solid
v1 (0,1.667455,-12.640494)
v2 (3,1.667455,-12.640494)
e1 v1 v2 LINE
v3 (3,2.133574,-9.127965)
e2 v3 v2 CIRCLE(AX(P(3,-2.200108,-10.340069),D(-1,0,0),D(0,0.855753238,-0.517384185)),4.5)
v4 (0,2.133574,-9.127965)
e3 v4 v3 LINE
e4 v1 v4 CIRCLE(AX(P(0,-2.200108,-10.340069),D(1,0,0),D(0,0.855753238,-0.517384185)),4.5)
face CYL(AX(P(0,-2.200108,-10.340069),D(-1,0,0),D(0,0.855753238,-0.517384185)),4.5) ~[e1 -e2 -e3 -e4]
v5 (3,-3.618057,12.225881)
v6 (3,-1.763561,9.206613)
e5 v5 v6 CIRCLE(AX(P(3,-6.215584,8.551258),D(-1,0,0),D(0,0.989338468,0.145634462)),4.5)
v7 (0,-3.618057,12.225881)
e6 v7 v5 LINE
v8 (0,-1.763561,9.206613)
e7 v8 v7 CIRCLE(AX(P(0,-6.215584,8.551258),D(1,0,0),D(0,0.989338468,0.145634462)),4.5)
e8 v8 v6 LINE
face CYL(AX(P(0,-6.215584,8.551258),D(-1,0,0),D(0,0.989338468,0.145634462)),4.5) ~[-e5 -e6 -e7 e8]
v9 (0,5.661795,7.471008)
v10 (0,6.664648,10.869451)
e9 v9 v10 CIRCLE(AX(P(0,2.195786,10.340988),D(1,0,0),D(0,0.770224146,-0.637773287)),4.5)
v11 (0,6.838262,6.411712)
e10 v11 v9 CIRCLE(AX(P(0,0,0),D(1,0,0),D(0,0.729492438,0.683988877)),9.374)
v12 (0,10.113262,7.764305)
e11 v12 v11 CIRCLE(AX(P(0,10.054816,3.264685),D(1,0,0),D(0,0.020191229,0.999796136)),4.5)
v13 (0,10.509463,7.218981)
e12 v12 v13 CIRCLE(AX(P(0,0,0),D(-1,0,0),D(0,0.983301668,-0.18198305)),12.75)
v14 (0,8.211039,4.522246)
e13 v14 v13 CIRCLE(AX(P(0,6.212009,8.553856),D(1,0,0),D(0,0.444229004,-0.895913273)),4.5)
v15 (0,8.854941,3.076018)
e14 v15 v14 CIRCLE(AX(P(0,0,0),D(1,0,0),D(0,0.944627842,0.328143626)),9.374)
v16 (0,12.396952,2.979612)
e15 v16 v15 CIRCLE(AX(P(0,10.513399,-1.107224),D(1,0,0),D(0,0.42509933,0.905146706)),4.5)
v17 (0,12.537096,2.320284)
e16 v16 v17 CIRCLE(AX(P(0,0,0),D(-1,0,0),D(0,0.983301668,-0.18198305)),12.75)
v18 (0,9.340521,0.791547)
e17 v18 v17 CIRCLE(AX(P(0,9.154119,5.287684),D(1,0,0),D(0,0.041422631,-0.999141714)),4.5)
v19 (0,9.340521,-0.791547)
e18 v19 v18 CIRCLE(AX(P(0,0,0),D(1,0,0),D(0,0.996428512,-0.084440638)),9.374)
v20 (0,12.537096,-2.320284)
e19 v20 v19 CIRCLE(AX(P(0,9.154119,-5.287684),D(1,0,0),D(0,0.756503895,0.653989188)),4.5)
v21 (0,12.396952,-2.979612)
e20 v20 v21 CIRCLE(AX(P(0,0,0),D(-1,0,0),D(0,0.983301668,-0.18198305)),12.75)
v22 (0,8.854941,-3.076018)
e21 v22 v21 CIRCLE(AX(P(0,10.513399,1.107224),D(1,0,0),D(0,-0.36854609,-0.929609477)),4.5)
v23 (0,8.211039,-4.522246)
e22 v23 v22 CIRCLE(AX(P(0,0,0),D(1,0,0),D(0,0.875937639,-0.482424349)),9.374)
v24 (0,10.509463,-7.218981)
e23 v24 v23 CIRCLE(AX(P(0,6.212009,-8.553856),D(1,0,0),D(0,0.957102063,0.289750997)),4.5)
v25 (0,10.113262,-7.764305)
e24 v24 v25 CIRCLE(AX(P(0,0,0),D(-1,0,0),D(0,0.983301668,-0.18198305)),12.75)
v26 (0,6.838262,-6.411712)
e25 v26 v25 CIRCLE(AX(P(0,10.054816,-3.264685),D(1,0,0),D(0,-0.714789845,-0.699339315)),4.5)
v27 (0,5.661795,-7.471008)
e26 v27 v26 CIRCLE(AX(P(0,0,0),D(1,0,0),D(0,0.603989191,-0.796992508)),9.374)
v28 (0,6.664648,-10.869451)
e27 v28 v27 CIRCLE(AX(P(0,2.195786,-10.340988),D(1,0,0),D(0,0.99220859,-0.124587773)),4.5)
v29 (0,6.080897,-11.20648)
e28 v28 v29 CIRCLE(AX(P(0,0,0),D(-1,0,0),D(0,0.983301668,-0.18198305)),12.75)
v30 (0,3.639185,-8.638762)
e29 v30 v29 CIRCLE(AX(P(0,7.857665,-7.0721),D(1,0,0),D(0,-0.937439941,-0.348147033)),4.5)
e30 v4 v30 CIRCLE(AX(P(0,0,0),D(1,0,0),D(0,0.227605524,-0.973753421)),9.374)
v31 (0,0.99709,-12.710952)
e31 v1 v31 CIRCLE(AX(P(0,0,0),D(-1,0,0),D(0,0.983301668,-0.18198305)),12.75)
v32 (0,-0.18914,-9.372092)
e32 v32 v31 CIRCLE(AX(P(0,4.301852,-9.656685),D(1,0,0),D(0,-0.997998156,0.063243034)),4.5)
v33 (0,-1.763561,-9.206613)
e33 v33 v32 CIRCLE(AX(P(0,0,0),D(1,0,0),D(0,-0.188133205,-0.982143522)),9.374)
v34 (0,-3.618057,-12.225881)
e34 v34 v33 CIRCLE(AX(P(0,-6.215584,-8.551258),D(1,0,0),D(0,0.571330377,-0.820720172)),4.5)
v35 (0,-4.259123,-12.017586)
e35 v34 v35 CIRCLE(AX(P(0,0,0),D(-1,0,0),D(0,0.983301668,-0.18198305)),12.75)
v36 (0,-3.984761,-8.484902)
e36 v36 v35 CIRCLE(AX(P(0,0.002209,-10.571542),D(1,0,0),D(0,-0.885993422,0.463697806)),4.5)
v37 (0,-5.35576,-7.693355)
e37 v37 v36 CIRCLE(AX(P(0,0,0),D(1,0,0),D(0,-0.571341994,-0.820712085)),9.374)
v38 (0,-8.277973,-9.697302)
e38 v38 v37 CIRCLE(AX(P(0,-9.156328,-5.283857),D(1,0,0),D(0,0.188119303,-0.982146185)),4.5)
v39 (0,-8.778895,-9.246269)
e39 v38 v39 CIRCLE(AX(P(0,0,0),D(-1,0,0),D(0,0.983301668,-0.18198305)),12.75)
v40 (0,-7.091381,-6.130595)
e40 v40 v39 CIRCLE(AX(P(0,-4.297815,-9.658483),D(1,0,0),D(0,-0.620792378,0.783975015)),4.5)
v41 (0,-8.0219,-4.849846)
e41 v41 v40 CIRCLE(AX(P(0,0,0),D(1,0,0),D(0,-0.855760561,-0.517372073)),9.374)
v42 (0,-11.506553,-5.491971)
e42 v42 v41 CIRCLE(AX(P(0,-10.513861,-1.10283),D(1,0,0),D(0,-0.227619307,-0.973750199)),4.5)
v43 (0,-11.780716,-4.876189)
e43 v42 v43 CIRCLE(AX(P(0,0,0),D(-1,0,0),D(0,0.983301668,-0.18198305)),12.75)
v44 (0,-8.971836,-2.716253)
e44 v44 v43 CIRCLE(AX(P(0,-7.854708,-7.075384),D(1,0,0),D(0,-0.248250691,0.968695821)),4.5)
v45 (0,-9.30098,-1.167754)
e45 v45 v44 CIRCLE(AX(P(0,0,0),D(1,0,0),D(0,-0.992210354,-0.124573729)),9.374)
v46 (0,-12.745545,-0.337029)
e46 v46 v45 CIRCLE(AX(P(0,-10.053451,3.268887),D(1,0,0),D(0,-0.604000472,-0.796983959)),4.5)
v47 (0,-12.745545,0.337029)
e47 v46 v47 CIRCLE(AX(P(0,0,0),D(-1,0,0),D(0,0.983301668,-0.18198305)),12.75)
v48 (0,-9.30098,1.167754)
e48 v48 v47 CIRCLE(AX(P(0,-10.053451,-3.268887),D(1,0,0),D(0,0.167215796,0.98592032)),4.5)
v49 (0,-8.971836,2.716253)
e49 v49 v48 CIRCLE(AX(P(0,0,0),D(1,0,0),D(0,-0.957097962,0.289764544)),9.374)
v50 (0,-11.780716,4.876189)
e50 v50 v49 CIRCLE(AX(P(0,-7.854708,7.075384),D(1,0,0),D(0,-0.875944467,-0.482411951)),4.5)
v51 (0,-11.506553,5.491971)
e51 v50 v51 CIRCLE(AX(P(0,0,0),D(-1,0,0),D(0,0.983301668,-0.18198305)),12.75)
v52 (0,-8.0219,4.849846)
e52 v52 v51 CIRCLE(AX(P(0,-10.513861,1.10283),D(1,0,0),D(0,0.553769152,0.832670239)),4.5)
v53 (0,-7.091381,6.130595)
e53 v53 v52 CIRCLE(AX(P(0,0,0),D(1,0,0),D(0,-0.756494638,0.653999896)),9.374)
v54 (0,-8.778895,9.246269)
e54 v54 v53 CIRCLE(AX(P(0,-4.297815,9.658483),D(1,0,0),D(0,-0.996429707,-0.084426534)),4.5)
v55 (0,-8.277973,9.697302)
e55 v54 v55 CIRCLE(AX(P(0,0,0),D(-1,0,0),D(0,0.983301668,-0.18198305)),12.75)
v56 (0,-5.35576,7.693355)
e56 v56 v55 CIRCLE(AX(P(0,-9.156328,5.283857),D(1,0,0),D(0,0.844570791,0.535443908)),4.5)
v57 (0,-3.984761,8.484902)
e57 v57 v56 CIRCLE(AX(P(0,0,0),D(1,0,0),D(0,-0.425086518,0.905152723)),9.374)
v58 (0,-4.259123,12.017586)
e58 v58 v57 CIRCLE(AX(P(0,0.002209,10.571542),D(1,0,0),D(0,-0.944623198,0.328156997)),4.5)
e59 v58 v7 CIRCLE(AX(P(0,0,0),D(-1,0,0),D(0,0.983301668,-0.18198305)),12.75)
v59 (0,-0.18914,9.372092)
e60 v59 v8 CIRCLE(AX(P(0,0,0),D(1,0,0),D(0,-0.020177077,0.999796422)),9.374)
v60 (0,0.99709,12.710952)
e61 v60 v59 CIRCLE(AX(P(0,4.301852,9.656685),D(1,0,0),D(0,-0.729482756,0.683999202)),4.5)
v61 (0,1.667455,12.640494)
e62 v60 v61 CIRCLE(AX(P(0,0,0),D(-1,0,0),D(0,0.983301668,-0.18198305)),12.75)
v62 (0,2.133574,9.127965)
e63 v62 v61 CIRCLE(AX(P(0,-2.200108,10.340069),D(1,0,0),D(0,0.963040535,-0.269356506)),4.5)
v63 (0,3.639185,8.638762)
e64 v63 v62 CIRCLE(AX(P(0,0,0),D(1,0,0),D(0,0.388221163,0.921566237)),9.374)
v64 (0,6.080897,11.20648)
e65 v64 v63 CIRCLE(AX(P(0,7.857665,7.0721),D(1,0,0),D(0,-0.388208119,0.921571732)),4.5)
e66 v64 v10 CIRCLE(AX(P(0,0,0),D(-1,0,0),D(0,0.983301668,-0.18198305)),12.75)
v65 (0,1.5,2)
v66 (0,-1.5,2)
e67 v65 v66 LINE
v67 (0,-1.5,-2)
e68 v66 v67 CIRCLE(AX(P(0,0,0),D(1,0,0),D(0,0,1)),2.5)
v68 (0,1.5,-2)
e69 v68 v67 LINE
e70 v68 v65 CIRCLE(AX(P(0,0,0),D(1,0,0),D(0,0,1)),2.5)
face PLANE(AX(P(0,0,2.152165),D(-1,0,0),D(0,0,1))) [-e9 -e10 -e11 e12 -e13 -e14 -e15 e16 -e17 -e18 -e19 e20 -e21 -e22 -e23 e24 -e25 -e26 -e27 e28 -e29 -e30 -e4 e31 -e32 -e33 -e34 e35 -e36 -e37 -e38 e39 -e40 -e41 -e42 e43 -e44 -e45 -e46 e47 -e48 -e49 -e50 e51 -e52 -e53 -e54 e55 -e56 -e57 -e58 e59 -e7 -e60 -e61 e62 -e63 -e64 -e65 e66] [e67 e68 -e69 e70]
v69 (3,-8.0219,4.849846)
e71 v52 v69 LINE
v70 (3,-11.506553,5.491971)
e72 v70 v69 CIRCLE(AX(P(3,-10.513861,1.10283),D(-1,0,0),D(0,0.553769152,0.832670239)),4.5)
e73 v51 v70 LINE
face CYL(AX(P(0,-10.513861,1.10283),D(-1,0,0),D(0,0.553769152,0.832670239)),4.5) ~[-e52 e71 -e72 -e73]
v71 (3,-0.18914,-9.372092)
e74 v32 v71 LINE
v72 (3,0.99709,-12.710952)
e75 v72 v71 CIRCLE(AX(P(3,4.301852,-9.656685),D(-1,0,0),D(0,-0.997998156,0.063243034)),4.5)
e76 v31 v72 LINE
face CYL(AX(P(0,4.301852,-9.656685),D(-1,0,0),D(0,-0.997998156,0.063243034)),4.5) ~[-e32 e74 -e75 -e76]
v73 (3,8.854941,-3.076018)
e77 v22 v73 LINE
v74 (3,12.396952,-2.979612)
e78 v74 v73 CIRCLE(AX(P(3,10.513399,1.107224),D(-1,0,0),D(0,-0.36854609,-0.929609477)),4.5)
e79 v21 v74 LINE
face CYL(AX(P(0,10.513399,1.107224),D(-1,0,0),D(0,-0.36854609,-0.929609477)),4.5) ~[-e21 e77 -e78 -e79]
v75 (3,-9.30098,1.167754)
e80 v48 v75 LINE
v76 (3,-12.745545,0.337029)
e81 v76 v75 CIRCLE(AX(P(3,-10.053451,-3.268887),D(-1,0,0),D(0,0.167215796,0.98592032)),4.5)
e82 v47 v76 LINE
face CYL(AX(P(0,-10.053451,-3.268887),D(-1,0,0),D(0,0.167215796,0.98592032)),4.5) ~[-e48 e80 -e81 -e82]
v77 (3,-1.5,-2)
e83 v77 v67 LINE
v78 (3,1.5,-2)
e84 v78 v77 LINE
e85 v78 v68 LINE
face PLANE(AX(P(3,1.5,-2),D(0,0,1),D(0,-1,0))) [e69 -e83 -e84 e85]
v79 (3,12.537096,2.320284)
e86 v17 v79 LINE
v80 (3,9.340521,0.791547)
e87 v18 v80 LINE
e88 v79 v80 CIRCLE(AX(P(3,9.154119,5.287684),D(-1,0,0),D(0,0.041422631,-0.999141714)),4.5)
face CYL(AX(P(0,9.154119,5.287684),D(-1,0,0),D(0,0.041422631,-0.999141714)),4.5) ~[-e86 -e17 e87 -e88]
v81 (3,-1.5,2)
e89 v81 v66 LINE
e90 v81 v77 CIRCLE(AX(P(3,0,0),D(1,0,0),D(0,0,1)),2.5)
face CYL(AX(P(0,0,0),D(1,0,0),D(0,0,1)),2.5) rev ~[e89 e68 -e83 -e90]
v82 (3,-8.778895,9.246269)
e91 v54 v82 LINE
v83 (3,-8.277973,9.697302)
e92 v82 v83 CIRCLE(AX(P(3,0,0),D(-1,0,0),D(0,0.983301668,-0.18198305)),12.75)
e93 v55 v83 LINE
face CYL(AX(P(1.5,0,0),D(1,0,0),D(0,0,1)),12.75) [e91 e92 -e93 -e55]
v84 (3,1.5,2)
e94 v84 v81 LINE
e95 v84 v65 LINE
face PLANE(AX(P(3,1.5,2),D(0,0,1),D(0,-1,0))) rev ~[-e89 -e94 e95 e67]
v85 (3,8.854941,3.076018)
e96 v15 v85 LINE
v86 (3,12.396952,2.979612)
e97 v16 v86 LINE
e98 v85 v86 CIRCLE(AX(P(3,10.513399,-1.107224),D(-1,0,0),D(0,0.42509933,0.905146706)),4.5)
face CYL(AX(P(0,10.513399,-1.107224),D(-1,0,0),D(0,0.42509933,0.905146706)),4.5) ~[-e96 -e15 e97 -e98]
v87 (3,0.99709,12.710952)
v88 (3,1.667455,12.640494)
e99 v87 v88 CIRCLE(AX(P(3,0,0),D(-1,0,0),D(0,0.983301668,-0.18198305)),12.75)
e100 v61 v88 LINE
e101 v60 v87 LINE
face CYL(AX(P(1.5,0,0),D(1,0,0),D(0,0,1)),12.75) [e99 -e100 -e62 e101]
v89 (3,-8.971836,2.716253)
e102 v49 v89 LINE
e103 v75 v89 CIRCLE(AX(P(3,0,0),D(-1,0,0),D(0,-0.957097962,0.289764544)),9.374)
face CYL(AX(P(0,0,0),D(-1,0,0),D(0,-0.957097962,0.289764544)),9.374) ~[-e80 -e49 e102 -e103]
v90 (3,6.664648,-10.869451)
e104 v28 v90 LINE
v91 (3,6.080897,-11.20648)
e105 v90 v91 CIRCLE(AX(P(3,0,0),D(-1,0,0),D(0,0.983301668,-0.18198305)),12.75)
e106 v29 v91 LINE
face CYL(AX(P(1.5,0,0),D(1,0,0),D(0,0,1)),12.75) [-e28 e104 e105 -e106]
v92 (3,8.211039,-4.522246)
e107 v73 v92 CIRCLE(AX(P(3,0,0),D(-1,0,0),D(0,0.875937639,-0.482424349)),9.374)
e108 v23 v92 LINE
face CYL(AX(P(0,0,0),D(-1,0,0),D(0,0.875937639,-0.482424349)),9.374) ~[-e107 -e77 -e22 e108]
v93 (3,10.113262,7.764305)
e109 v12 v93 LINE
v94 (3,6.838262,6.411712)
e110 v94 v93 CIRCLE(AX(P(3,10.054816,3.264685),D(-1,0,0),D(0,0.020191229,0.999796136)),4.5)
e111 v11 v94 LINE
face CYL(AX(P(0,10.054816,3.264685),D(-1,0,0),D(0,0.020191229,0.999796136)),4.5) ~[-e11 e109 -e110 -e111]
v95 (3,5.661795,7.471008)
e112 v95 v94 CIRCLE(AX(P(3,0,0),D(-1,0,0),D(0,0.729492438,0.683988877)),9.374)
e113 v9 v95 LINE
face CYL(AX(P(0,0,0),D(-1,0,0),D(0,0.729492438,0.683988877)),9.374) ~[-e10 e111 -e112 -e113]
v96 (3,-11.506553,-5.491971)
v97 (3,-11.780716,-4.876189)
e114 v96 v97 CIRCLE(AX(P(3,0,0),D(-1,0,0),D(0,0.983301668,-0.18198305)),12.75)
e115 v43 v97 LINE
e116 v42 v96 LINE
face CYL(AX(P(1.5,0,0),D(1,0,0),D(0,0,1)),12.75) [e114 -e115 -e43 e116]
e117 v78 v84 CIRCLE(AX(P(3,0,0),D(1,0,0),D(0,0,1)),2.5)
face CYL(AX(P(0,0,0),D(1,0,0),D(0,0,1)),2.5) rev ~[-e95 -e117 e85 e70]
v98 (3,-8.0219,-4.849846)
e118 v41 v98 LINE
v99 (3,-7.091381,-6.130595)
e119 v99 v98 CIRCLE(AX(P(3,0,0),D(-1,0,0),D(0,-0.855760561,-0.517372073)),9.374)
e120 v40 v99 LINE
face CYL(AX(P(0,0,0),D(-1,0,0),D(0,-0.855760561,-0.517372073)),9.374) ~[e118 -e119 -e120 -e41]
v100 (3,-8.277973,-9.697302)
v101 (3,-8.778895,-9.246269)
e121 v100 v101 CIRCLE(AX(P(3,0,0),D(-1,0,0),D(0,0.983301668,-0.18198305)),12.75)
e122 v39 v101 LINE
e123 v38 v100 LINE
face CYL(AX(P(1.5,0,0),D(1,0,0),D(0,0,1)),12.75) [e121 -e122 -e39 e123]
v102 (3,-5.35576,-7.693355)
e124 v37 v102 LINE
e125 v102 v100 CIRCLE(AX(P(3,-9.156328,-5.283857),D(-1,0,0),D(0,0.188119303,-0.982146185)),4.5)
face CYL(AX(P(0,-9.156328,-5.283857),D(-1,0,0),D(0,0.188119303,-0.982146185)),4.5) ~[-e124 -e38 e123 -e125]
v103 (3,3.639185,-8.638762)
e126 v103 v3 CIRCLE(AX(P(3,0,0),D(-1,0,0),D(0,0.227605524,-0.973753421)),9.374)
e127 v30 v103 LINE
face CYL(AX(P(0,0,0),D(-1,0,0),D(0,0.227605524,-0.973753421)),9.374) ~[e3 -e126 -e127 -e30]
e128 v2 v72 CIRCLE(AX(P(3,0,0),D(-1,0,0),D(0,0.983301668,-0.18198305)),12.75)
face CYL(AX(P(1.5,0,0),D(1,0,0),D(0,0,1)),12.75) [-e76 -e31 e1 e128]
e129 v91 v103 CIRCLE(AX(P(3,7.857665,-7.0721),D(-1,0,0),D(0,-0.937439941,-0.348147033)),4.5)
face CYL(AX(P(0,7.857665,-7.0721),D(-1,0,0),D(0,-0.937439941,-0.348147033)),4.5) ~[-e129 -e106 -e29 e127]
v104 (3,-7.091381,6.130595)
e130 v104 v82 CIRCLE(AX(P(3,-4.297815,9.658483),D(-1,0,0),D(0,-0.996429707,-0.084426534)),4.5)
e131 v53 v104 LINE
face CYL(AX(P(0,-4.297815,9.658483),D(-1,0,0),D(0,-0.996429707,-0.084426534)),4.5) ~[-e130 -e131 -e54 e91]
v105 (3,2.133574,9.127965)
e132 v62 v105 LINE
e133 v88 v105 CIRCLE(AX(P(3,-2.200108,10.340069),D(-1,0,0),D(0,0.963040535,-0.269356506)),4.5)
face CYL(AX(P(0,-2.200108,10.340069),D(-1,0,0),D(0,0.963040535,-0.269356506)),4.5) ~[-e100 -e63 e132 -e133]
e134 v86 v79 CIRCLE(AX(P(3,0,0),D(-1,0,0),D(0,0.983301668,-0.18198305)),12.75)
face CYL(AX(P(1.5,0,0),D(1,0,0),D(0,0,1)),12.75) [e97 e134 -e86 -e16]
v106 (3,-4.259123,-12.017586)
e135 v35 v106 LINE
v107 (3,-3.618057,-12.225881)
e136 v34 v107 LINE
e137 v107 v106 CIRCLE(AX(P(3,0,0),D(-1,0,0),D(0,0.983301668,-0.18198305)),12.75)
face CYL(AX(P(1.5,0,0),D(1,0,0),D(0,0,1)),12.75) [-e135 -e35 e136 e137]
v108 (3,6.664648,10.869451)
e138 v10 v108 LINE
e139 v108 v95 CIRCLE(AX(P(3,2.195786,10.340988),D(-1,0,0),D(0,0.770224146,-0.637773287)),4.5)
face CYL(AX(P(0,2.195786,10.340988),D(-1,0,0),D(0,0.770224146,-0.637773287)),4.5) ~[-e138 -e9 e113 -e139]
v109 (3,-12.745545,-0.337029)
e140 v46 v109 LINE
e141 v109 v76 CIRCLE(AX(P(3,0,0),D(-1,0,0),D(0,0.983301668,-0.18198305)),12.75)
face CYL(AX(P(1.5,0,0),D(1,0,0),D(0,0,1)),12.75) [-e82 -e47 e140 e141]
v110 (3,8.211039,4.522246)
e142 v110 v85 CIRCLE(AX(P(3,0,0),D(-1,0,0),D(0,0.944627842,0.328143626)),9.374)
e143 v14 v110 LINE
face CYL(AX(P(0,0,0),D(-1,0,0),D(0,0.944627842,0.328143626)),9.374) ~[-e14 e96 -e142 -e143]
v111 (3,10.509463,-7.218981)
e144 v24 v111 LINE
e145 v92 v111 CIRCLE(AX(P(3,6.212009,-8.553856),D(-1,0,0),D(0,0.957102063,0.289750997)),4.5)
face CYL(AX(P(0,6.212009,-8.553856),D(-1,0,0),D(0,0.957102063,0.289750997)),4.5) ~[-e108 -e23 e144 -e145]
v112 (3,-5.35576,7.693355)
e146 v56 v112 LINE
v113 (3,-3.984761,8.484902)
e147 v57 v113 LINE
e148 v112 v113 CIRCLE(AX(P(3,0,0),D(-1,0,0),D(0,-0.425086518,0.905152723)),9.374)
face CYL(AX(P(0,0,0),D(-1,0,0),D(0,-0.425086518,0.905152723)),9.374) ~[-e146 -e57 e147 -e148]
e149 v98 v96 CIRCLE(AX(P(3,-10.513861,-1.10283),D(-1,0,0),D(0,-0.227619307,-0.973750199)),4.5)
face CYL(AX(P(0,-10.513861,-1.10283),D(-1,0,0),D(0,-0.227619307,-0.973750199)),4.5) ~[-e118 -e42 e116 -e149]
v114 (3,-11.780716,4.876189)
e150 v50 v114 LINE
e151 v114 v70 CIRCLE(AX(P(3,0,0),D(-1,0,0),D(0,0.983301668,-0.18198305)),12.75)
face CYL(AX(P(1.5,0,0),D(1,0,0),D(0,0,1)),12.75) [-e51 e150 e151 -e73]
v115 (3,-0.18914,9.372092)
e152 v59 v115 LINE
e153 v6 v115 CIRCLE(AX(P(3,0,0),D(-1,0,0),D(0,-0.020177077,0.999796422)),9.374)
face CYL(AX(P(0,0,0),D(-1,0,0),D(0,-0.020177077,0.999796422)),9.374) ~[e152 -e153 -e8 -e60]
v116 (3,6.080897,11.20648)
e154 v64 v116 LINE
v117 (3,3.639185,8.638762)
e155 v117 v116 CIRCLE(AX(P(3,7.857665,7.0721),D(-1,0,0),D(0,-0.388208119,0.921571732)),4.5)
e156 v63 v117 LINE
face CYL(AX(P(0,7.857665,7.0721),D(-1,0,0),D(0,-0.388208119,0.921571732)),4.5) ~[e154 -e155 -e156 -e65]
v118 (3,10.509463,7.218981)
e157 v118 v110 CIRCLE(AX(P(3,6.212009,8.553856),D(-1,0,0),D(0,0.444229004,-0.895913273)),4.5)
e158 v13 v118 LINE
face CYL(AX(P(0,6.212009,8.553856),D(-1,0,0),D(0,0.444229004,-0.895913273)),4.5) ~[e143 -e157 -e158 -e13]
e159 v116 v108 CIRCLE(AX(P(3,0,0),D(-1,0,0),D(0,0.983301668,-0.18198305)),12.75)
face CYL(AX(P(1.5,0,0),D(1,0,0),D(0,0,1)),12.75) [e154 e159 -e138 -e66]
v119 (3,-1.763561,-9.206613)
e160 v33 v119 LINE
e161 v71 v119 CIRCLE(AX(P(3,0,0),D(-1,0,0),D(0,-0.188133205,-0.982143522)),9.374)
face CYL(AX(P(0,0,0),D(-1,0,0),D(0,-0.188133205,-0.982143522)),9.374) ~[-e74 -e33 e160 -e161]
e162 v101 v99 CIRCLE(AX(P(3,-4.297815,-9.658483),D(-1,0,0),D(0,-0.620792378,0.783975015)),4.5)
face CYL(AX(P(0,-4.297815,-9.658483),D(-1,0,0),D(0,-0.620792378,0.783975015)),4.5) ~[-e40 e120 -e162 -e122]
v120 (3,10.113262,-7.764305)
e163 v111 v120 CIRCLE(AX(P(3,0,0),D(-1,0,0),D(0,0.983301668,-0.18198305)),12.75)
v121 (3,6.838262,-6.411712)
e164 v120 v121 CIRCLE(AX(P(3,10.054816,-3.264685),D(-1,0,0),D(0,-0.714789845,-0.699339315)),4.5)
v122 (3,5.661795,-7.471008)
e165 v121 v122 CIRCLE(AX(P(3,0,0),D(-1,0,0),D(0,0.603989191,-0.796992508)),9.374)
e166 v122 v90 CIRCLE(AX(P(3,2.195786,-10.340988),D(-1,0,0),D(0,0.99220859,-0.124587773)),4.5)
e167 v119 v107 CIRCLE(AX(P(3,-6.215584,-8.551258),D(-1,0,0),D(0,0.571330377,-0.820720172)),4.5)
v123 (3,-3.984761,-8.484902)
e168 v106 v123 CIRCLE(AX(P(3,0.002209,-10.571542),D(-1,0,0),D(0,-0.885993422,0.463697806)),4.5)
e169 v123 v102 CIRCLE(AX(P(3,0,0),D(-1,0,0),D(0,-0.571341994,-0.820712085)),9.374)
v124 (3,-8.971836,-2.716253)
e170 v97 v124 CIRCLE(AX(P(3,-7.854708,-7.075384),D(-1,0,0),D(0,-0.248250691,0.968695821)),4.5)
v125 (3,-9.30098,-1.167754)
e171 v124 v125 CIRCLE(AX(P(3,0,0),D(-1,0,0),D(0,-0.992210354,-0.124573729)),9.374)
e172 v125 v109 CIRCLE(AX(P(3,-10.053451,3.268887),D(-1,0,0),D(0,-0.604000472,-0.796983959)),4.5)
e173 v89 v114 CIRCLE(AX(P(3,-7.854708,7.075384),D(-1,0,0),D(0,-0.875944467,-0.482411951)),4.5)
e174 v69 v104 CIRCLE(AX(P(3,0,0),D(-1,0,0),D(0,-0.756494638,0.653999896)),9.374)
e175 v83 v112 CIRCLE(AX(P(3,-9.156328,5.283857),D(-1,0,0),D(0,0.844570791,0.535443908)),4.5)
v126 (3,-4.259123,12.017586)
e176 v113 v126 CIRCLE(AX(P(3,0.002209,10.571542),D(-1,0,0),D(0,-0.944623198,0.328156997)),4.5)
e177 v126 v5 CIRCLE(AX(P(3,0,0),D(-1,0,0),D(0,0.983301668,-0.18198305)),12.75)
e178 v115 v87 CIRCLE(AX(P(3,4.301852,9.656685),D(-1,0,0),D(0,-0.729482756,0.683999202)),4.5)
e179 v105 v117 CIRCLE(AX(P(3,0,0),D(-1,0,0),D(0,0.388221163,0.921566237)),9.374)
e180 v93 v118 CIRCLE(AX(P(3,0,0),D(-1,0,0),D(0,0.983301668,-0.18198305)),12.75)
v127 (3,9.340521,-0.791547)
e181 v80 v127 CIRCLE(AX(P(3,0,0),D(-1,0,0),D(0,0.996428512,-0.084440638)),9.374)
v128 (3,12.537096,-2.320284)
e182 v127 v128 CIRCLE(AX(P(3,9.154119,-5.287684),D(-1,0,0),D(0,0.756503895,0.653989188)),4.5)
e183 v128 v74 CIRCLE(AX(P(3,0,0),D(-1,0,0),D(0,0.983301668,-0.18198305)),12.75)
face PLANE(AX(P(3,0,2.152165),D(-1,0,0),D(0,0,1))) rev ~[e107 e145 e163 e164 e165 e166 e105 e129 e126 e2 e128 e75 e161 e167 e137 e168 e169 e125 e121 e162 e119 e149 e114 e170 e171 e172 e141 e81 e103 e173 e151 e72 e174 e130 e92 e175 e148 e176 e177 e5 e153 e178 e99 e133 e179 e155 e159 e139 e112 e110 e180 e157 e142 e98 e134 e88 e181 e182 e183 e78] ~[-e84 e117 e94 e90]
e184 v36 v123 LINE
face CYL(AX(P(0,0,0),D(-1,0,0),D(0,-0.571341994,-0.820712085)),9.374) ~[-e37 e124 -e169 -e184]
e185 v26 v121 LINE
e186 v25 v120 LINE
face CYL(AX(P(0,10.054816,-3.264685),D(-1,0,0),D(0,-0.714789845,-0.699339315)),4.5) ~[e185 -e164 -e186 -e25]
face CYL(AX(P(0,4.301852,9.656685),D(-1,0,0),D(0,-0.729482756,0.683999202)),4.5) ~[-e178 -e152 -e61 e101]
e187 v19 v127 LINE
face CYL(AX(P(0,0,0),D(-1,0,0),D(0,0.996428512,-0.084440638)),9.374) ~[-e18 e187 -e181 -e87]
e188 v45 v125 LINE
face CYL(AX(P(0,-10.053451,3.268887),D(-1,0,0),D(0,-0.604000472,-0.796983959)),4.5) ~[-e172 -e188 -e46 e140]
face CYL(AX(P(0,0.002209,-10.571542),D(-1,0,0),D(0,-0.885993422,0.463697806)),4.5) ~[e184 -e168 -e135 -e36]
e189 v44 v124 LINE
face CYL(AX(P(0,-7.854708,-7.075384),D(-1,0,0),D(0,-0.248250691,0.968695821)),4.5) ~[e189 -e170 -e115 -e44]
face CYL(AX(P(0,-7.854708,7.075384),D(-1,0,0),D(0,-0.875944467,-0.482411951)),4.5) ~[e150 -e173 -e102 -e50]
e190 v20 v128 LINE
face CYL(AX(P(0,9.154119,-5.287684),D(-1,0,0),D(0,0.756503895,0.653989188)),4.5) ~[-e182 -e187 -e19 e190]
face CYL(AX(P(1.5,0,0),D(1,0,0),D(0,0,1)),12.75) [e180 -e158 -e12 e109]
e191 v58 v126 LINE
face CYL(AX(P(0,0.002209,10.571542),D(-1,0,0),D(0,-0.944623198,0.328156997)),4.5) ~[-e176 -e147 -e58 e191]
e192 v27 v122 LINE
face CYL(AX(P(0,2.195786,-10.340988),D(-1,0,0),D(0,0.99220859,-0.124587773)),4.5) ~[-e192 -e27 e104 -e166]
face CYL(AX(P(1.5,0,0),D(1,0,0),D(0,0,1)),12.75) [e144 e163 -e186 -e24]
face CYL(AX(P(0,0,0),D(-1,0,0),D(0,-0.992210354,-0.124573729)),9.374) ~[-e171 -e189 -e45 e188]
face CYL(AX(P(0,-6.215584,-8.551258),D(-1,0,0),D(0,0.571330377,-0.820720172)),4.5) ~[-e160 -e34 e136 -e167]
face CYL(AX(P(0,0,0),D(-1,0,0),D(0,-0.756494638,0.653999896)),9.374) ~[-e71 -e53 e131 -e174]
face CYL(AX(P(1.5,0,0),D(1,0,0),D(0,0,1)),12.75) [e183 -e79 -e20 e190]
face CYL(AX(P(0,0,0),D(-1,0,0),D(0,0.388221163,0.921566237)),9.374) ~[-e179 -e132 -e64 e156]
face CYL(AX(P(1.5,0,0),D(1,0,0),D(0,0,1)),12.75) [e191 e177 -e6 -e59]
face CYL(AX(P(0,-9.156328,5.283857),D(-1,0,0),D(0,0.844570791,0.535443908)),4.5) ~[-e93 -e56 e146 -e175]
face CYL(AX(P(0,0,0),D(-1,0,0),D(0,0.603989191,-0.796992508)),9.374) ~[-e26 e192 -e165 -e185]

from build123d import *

# Parameters (mm, degrees)
BASPROSKE_W        = 3
BASPROSKE_H        = 12.75
TOOTHCUT_DEPTH     = 19.27908641
TEETHCUTS_COUNT    = 15
TEETHCUTS_ANGLE    = 336
BORSKE_R           = 2.5
BORE_DEPTH         = 50.0000508
BOSS_EXTRU_1_DEPTH = 3


with BuildPart() as part:
    # BasProSke → Base-Revolve (revolve)
    with BuildSketch(Plane(origin=(0, 0, 0), x_dir=(1, 0, 0), z_dir=(0, 1, 0)), mode=Mode.PRIVATE) as base_revolve_sk:
        with Locations((1.5, 6.375)):
            Rectangle(BASPROSKE_W, BASPROSKE_H)
    revolve(base_revolve_sk.sketch.rotate(Axis((-10, 0, 0), (1, 0, 0)), 180), axis=Axis((-10, 0, 0), (1, 0, 0)))

    # TooCutSke → ToothCut (cut, through all)
    with BuildSketch(Plane(origin=(0, 0, 0), x_dir=(0, 0, -1), z_dir=(1, 0, 0))):
        with BuildLine():
            ThreePointArc((0.791546546, 9.340520867), (0, 9.374), (-0.791546546, 9.340520867))
            ThreePointArc((-0.791546546, 9.340520867), (-1.235070734, 11.110218102), (-2.344732916, 12.558386549))
            ThreePointArc((-2.344732916, 12.558386549), (0, 12.7754), (2.344732916, 12.558386549))
            ThreePointArc((2.344732916, 12.558386549), (1.235070734, 11.110218102), (0.791546546, 9.340520867))
        make_face()
    toothcut = extrude(amount=TOOTHCUT_DEPTH, mode=Mode.SUBTRACT)

    # TeethCuts: ToothCut ×15 about axis
    teethcuts_axis = Axis((-10, 0, 0), (1, 0, 0))
    for i in range(1, TEETHCUTS_COUNT):
        add(toothcut.rotate(teethcuts_axis, i * TEETHCUTS_ANGLE / (TEETHCUTS_COUNT - 1)), mode=Mode.SUBTRACT)

    # BorSke → Bore (cut, symmetric)
    with BuildSketch(Plane(origin=(0, 0, 0), x_dir=(0, 0, -1), z_dir=(1, 0, 0))):
        with Locations(Location((0, 0, 0), (0, 0, 180))):
            Circle(BORSKE_R)
    extrude(amount=BORE_DEPTH, both=True, mode=Mode.SUBTRACT)

    # Esquisse1 → Boss.-Extru.1 (add)
    with BuildSketch(Plane(origin=(3, 0, 0), x_dir=(0, 0, -1), z_dir=(1, 0, 0))):
        with BuildLine():
            Line((-2, 1.5), (-2, -1.5))
            ThreePointArc((-2, -1.5), (-2.5, 0), (-2, 1.5))
        make_face()
        with BuildLine():
            Line((2, 1.5), (2, -1.5))
            ThreePointArc((2, -1.5), (2.5, 0), (2, 1.5))
        make_face()
    extrude(amount=-BOSS_EXTRU_1_DEPTH)


solid = part.part
